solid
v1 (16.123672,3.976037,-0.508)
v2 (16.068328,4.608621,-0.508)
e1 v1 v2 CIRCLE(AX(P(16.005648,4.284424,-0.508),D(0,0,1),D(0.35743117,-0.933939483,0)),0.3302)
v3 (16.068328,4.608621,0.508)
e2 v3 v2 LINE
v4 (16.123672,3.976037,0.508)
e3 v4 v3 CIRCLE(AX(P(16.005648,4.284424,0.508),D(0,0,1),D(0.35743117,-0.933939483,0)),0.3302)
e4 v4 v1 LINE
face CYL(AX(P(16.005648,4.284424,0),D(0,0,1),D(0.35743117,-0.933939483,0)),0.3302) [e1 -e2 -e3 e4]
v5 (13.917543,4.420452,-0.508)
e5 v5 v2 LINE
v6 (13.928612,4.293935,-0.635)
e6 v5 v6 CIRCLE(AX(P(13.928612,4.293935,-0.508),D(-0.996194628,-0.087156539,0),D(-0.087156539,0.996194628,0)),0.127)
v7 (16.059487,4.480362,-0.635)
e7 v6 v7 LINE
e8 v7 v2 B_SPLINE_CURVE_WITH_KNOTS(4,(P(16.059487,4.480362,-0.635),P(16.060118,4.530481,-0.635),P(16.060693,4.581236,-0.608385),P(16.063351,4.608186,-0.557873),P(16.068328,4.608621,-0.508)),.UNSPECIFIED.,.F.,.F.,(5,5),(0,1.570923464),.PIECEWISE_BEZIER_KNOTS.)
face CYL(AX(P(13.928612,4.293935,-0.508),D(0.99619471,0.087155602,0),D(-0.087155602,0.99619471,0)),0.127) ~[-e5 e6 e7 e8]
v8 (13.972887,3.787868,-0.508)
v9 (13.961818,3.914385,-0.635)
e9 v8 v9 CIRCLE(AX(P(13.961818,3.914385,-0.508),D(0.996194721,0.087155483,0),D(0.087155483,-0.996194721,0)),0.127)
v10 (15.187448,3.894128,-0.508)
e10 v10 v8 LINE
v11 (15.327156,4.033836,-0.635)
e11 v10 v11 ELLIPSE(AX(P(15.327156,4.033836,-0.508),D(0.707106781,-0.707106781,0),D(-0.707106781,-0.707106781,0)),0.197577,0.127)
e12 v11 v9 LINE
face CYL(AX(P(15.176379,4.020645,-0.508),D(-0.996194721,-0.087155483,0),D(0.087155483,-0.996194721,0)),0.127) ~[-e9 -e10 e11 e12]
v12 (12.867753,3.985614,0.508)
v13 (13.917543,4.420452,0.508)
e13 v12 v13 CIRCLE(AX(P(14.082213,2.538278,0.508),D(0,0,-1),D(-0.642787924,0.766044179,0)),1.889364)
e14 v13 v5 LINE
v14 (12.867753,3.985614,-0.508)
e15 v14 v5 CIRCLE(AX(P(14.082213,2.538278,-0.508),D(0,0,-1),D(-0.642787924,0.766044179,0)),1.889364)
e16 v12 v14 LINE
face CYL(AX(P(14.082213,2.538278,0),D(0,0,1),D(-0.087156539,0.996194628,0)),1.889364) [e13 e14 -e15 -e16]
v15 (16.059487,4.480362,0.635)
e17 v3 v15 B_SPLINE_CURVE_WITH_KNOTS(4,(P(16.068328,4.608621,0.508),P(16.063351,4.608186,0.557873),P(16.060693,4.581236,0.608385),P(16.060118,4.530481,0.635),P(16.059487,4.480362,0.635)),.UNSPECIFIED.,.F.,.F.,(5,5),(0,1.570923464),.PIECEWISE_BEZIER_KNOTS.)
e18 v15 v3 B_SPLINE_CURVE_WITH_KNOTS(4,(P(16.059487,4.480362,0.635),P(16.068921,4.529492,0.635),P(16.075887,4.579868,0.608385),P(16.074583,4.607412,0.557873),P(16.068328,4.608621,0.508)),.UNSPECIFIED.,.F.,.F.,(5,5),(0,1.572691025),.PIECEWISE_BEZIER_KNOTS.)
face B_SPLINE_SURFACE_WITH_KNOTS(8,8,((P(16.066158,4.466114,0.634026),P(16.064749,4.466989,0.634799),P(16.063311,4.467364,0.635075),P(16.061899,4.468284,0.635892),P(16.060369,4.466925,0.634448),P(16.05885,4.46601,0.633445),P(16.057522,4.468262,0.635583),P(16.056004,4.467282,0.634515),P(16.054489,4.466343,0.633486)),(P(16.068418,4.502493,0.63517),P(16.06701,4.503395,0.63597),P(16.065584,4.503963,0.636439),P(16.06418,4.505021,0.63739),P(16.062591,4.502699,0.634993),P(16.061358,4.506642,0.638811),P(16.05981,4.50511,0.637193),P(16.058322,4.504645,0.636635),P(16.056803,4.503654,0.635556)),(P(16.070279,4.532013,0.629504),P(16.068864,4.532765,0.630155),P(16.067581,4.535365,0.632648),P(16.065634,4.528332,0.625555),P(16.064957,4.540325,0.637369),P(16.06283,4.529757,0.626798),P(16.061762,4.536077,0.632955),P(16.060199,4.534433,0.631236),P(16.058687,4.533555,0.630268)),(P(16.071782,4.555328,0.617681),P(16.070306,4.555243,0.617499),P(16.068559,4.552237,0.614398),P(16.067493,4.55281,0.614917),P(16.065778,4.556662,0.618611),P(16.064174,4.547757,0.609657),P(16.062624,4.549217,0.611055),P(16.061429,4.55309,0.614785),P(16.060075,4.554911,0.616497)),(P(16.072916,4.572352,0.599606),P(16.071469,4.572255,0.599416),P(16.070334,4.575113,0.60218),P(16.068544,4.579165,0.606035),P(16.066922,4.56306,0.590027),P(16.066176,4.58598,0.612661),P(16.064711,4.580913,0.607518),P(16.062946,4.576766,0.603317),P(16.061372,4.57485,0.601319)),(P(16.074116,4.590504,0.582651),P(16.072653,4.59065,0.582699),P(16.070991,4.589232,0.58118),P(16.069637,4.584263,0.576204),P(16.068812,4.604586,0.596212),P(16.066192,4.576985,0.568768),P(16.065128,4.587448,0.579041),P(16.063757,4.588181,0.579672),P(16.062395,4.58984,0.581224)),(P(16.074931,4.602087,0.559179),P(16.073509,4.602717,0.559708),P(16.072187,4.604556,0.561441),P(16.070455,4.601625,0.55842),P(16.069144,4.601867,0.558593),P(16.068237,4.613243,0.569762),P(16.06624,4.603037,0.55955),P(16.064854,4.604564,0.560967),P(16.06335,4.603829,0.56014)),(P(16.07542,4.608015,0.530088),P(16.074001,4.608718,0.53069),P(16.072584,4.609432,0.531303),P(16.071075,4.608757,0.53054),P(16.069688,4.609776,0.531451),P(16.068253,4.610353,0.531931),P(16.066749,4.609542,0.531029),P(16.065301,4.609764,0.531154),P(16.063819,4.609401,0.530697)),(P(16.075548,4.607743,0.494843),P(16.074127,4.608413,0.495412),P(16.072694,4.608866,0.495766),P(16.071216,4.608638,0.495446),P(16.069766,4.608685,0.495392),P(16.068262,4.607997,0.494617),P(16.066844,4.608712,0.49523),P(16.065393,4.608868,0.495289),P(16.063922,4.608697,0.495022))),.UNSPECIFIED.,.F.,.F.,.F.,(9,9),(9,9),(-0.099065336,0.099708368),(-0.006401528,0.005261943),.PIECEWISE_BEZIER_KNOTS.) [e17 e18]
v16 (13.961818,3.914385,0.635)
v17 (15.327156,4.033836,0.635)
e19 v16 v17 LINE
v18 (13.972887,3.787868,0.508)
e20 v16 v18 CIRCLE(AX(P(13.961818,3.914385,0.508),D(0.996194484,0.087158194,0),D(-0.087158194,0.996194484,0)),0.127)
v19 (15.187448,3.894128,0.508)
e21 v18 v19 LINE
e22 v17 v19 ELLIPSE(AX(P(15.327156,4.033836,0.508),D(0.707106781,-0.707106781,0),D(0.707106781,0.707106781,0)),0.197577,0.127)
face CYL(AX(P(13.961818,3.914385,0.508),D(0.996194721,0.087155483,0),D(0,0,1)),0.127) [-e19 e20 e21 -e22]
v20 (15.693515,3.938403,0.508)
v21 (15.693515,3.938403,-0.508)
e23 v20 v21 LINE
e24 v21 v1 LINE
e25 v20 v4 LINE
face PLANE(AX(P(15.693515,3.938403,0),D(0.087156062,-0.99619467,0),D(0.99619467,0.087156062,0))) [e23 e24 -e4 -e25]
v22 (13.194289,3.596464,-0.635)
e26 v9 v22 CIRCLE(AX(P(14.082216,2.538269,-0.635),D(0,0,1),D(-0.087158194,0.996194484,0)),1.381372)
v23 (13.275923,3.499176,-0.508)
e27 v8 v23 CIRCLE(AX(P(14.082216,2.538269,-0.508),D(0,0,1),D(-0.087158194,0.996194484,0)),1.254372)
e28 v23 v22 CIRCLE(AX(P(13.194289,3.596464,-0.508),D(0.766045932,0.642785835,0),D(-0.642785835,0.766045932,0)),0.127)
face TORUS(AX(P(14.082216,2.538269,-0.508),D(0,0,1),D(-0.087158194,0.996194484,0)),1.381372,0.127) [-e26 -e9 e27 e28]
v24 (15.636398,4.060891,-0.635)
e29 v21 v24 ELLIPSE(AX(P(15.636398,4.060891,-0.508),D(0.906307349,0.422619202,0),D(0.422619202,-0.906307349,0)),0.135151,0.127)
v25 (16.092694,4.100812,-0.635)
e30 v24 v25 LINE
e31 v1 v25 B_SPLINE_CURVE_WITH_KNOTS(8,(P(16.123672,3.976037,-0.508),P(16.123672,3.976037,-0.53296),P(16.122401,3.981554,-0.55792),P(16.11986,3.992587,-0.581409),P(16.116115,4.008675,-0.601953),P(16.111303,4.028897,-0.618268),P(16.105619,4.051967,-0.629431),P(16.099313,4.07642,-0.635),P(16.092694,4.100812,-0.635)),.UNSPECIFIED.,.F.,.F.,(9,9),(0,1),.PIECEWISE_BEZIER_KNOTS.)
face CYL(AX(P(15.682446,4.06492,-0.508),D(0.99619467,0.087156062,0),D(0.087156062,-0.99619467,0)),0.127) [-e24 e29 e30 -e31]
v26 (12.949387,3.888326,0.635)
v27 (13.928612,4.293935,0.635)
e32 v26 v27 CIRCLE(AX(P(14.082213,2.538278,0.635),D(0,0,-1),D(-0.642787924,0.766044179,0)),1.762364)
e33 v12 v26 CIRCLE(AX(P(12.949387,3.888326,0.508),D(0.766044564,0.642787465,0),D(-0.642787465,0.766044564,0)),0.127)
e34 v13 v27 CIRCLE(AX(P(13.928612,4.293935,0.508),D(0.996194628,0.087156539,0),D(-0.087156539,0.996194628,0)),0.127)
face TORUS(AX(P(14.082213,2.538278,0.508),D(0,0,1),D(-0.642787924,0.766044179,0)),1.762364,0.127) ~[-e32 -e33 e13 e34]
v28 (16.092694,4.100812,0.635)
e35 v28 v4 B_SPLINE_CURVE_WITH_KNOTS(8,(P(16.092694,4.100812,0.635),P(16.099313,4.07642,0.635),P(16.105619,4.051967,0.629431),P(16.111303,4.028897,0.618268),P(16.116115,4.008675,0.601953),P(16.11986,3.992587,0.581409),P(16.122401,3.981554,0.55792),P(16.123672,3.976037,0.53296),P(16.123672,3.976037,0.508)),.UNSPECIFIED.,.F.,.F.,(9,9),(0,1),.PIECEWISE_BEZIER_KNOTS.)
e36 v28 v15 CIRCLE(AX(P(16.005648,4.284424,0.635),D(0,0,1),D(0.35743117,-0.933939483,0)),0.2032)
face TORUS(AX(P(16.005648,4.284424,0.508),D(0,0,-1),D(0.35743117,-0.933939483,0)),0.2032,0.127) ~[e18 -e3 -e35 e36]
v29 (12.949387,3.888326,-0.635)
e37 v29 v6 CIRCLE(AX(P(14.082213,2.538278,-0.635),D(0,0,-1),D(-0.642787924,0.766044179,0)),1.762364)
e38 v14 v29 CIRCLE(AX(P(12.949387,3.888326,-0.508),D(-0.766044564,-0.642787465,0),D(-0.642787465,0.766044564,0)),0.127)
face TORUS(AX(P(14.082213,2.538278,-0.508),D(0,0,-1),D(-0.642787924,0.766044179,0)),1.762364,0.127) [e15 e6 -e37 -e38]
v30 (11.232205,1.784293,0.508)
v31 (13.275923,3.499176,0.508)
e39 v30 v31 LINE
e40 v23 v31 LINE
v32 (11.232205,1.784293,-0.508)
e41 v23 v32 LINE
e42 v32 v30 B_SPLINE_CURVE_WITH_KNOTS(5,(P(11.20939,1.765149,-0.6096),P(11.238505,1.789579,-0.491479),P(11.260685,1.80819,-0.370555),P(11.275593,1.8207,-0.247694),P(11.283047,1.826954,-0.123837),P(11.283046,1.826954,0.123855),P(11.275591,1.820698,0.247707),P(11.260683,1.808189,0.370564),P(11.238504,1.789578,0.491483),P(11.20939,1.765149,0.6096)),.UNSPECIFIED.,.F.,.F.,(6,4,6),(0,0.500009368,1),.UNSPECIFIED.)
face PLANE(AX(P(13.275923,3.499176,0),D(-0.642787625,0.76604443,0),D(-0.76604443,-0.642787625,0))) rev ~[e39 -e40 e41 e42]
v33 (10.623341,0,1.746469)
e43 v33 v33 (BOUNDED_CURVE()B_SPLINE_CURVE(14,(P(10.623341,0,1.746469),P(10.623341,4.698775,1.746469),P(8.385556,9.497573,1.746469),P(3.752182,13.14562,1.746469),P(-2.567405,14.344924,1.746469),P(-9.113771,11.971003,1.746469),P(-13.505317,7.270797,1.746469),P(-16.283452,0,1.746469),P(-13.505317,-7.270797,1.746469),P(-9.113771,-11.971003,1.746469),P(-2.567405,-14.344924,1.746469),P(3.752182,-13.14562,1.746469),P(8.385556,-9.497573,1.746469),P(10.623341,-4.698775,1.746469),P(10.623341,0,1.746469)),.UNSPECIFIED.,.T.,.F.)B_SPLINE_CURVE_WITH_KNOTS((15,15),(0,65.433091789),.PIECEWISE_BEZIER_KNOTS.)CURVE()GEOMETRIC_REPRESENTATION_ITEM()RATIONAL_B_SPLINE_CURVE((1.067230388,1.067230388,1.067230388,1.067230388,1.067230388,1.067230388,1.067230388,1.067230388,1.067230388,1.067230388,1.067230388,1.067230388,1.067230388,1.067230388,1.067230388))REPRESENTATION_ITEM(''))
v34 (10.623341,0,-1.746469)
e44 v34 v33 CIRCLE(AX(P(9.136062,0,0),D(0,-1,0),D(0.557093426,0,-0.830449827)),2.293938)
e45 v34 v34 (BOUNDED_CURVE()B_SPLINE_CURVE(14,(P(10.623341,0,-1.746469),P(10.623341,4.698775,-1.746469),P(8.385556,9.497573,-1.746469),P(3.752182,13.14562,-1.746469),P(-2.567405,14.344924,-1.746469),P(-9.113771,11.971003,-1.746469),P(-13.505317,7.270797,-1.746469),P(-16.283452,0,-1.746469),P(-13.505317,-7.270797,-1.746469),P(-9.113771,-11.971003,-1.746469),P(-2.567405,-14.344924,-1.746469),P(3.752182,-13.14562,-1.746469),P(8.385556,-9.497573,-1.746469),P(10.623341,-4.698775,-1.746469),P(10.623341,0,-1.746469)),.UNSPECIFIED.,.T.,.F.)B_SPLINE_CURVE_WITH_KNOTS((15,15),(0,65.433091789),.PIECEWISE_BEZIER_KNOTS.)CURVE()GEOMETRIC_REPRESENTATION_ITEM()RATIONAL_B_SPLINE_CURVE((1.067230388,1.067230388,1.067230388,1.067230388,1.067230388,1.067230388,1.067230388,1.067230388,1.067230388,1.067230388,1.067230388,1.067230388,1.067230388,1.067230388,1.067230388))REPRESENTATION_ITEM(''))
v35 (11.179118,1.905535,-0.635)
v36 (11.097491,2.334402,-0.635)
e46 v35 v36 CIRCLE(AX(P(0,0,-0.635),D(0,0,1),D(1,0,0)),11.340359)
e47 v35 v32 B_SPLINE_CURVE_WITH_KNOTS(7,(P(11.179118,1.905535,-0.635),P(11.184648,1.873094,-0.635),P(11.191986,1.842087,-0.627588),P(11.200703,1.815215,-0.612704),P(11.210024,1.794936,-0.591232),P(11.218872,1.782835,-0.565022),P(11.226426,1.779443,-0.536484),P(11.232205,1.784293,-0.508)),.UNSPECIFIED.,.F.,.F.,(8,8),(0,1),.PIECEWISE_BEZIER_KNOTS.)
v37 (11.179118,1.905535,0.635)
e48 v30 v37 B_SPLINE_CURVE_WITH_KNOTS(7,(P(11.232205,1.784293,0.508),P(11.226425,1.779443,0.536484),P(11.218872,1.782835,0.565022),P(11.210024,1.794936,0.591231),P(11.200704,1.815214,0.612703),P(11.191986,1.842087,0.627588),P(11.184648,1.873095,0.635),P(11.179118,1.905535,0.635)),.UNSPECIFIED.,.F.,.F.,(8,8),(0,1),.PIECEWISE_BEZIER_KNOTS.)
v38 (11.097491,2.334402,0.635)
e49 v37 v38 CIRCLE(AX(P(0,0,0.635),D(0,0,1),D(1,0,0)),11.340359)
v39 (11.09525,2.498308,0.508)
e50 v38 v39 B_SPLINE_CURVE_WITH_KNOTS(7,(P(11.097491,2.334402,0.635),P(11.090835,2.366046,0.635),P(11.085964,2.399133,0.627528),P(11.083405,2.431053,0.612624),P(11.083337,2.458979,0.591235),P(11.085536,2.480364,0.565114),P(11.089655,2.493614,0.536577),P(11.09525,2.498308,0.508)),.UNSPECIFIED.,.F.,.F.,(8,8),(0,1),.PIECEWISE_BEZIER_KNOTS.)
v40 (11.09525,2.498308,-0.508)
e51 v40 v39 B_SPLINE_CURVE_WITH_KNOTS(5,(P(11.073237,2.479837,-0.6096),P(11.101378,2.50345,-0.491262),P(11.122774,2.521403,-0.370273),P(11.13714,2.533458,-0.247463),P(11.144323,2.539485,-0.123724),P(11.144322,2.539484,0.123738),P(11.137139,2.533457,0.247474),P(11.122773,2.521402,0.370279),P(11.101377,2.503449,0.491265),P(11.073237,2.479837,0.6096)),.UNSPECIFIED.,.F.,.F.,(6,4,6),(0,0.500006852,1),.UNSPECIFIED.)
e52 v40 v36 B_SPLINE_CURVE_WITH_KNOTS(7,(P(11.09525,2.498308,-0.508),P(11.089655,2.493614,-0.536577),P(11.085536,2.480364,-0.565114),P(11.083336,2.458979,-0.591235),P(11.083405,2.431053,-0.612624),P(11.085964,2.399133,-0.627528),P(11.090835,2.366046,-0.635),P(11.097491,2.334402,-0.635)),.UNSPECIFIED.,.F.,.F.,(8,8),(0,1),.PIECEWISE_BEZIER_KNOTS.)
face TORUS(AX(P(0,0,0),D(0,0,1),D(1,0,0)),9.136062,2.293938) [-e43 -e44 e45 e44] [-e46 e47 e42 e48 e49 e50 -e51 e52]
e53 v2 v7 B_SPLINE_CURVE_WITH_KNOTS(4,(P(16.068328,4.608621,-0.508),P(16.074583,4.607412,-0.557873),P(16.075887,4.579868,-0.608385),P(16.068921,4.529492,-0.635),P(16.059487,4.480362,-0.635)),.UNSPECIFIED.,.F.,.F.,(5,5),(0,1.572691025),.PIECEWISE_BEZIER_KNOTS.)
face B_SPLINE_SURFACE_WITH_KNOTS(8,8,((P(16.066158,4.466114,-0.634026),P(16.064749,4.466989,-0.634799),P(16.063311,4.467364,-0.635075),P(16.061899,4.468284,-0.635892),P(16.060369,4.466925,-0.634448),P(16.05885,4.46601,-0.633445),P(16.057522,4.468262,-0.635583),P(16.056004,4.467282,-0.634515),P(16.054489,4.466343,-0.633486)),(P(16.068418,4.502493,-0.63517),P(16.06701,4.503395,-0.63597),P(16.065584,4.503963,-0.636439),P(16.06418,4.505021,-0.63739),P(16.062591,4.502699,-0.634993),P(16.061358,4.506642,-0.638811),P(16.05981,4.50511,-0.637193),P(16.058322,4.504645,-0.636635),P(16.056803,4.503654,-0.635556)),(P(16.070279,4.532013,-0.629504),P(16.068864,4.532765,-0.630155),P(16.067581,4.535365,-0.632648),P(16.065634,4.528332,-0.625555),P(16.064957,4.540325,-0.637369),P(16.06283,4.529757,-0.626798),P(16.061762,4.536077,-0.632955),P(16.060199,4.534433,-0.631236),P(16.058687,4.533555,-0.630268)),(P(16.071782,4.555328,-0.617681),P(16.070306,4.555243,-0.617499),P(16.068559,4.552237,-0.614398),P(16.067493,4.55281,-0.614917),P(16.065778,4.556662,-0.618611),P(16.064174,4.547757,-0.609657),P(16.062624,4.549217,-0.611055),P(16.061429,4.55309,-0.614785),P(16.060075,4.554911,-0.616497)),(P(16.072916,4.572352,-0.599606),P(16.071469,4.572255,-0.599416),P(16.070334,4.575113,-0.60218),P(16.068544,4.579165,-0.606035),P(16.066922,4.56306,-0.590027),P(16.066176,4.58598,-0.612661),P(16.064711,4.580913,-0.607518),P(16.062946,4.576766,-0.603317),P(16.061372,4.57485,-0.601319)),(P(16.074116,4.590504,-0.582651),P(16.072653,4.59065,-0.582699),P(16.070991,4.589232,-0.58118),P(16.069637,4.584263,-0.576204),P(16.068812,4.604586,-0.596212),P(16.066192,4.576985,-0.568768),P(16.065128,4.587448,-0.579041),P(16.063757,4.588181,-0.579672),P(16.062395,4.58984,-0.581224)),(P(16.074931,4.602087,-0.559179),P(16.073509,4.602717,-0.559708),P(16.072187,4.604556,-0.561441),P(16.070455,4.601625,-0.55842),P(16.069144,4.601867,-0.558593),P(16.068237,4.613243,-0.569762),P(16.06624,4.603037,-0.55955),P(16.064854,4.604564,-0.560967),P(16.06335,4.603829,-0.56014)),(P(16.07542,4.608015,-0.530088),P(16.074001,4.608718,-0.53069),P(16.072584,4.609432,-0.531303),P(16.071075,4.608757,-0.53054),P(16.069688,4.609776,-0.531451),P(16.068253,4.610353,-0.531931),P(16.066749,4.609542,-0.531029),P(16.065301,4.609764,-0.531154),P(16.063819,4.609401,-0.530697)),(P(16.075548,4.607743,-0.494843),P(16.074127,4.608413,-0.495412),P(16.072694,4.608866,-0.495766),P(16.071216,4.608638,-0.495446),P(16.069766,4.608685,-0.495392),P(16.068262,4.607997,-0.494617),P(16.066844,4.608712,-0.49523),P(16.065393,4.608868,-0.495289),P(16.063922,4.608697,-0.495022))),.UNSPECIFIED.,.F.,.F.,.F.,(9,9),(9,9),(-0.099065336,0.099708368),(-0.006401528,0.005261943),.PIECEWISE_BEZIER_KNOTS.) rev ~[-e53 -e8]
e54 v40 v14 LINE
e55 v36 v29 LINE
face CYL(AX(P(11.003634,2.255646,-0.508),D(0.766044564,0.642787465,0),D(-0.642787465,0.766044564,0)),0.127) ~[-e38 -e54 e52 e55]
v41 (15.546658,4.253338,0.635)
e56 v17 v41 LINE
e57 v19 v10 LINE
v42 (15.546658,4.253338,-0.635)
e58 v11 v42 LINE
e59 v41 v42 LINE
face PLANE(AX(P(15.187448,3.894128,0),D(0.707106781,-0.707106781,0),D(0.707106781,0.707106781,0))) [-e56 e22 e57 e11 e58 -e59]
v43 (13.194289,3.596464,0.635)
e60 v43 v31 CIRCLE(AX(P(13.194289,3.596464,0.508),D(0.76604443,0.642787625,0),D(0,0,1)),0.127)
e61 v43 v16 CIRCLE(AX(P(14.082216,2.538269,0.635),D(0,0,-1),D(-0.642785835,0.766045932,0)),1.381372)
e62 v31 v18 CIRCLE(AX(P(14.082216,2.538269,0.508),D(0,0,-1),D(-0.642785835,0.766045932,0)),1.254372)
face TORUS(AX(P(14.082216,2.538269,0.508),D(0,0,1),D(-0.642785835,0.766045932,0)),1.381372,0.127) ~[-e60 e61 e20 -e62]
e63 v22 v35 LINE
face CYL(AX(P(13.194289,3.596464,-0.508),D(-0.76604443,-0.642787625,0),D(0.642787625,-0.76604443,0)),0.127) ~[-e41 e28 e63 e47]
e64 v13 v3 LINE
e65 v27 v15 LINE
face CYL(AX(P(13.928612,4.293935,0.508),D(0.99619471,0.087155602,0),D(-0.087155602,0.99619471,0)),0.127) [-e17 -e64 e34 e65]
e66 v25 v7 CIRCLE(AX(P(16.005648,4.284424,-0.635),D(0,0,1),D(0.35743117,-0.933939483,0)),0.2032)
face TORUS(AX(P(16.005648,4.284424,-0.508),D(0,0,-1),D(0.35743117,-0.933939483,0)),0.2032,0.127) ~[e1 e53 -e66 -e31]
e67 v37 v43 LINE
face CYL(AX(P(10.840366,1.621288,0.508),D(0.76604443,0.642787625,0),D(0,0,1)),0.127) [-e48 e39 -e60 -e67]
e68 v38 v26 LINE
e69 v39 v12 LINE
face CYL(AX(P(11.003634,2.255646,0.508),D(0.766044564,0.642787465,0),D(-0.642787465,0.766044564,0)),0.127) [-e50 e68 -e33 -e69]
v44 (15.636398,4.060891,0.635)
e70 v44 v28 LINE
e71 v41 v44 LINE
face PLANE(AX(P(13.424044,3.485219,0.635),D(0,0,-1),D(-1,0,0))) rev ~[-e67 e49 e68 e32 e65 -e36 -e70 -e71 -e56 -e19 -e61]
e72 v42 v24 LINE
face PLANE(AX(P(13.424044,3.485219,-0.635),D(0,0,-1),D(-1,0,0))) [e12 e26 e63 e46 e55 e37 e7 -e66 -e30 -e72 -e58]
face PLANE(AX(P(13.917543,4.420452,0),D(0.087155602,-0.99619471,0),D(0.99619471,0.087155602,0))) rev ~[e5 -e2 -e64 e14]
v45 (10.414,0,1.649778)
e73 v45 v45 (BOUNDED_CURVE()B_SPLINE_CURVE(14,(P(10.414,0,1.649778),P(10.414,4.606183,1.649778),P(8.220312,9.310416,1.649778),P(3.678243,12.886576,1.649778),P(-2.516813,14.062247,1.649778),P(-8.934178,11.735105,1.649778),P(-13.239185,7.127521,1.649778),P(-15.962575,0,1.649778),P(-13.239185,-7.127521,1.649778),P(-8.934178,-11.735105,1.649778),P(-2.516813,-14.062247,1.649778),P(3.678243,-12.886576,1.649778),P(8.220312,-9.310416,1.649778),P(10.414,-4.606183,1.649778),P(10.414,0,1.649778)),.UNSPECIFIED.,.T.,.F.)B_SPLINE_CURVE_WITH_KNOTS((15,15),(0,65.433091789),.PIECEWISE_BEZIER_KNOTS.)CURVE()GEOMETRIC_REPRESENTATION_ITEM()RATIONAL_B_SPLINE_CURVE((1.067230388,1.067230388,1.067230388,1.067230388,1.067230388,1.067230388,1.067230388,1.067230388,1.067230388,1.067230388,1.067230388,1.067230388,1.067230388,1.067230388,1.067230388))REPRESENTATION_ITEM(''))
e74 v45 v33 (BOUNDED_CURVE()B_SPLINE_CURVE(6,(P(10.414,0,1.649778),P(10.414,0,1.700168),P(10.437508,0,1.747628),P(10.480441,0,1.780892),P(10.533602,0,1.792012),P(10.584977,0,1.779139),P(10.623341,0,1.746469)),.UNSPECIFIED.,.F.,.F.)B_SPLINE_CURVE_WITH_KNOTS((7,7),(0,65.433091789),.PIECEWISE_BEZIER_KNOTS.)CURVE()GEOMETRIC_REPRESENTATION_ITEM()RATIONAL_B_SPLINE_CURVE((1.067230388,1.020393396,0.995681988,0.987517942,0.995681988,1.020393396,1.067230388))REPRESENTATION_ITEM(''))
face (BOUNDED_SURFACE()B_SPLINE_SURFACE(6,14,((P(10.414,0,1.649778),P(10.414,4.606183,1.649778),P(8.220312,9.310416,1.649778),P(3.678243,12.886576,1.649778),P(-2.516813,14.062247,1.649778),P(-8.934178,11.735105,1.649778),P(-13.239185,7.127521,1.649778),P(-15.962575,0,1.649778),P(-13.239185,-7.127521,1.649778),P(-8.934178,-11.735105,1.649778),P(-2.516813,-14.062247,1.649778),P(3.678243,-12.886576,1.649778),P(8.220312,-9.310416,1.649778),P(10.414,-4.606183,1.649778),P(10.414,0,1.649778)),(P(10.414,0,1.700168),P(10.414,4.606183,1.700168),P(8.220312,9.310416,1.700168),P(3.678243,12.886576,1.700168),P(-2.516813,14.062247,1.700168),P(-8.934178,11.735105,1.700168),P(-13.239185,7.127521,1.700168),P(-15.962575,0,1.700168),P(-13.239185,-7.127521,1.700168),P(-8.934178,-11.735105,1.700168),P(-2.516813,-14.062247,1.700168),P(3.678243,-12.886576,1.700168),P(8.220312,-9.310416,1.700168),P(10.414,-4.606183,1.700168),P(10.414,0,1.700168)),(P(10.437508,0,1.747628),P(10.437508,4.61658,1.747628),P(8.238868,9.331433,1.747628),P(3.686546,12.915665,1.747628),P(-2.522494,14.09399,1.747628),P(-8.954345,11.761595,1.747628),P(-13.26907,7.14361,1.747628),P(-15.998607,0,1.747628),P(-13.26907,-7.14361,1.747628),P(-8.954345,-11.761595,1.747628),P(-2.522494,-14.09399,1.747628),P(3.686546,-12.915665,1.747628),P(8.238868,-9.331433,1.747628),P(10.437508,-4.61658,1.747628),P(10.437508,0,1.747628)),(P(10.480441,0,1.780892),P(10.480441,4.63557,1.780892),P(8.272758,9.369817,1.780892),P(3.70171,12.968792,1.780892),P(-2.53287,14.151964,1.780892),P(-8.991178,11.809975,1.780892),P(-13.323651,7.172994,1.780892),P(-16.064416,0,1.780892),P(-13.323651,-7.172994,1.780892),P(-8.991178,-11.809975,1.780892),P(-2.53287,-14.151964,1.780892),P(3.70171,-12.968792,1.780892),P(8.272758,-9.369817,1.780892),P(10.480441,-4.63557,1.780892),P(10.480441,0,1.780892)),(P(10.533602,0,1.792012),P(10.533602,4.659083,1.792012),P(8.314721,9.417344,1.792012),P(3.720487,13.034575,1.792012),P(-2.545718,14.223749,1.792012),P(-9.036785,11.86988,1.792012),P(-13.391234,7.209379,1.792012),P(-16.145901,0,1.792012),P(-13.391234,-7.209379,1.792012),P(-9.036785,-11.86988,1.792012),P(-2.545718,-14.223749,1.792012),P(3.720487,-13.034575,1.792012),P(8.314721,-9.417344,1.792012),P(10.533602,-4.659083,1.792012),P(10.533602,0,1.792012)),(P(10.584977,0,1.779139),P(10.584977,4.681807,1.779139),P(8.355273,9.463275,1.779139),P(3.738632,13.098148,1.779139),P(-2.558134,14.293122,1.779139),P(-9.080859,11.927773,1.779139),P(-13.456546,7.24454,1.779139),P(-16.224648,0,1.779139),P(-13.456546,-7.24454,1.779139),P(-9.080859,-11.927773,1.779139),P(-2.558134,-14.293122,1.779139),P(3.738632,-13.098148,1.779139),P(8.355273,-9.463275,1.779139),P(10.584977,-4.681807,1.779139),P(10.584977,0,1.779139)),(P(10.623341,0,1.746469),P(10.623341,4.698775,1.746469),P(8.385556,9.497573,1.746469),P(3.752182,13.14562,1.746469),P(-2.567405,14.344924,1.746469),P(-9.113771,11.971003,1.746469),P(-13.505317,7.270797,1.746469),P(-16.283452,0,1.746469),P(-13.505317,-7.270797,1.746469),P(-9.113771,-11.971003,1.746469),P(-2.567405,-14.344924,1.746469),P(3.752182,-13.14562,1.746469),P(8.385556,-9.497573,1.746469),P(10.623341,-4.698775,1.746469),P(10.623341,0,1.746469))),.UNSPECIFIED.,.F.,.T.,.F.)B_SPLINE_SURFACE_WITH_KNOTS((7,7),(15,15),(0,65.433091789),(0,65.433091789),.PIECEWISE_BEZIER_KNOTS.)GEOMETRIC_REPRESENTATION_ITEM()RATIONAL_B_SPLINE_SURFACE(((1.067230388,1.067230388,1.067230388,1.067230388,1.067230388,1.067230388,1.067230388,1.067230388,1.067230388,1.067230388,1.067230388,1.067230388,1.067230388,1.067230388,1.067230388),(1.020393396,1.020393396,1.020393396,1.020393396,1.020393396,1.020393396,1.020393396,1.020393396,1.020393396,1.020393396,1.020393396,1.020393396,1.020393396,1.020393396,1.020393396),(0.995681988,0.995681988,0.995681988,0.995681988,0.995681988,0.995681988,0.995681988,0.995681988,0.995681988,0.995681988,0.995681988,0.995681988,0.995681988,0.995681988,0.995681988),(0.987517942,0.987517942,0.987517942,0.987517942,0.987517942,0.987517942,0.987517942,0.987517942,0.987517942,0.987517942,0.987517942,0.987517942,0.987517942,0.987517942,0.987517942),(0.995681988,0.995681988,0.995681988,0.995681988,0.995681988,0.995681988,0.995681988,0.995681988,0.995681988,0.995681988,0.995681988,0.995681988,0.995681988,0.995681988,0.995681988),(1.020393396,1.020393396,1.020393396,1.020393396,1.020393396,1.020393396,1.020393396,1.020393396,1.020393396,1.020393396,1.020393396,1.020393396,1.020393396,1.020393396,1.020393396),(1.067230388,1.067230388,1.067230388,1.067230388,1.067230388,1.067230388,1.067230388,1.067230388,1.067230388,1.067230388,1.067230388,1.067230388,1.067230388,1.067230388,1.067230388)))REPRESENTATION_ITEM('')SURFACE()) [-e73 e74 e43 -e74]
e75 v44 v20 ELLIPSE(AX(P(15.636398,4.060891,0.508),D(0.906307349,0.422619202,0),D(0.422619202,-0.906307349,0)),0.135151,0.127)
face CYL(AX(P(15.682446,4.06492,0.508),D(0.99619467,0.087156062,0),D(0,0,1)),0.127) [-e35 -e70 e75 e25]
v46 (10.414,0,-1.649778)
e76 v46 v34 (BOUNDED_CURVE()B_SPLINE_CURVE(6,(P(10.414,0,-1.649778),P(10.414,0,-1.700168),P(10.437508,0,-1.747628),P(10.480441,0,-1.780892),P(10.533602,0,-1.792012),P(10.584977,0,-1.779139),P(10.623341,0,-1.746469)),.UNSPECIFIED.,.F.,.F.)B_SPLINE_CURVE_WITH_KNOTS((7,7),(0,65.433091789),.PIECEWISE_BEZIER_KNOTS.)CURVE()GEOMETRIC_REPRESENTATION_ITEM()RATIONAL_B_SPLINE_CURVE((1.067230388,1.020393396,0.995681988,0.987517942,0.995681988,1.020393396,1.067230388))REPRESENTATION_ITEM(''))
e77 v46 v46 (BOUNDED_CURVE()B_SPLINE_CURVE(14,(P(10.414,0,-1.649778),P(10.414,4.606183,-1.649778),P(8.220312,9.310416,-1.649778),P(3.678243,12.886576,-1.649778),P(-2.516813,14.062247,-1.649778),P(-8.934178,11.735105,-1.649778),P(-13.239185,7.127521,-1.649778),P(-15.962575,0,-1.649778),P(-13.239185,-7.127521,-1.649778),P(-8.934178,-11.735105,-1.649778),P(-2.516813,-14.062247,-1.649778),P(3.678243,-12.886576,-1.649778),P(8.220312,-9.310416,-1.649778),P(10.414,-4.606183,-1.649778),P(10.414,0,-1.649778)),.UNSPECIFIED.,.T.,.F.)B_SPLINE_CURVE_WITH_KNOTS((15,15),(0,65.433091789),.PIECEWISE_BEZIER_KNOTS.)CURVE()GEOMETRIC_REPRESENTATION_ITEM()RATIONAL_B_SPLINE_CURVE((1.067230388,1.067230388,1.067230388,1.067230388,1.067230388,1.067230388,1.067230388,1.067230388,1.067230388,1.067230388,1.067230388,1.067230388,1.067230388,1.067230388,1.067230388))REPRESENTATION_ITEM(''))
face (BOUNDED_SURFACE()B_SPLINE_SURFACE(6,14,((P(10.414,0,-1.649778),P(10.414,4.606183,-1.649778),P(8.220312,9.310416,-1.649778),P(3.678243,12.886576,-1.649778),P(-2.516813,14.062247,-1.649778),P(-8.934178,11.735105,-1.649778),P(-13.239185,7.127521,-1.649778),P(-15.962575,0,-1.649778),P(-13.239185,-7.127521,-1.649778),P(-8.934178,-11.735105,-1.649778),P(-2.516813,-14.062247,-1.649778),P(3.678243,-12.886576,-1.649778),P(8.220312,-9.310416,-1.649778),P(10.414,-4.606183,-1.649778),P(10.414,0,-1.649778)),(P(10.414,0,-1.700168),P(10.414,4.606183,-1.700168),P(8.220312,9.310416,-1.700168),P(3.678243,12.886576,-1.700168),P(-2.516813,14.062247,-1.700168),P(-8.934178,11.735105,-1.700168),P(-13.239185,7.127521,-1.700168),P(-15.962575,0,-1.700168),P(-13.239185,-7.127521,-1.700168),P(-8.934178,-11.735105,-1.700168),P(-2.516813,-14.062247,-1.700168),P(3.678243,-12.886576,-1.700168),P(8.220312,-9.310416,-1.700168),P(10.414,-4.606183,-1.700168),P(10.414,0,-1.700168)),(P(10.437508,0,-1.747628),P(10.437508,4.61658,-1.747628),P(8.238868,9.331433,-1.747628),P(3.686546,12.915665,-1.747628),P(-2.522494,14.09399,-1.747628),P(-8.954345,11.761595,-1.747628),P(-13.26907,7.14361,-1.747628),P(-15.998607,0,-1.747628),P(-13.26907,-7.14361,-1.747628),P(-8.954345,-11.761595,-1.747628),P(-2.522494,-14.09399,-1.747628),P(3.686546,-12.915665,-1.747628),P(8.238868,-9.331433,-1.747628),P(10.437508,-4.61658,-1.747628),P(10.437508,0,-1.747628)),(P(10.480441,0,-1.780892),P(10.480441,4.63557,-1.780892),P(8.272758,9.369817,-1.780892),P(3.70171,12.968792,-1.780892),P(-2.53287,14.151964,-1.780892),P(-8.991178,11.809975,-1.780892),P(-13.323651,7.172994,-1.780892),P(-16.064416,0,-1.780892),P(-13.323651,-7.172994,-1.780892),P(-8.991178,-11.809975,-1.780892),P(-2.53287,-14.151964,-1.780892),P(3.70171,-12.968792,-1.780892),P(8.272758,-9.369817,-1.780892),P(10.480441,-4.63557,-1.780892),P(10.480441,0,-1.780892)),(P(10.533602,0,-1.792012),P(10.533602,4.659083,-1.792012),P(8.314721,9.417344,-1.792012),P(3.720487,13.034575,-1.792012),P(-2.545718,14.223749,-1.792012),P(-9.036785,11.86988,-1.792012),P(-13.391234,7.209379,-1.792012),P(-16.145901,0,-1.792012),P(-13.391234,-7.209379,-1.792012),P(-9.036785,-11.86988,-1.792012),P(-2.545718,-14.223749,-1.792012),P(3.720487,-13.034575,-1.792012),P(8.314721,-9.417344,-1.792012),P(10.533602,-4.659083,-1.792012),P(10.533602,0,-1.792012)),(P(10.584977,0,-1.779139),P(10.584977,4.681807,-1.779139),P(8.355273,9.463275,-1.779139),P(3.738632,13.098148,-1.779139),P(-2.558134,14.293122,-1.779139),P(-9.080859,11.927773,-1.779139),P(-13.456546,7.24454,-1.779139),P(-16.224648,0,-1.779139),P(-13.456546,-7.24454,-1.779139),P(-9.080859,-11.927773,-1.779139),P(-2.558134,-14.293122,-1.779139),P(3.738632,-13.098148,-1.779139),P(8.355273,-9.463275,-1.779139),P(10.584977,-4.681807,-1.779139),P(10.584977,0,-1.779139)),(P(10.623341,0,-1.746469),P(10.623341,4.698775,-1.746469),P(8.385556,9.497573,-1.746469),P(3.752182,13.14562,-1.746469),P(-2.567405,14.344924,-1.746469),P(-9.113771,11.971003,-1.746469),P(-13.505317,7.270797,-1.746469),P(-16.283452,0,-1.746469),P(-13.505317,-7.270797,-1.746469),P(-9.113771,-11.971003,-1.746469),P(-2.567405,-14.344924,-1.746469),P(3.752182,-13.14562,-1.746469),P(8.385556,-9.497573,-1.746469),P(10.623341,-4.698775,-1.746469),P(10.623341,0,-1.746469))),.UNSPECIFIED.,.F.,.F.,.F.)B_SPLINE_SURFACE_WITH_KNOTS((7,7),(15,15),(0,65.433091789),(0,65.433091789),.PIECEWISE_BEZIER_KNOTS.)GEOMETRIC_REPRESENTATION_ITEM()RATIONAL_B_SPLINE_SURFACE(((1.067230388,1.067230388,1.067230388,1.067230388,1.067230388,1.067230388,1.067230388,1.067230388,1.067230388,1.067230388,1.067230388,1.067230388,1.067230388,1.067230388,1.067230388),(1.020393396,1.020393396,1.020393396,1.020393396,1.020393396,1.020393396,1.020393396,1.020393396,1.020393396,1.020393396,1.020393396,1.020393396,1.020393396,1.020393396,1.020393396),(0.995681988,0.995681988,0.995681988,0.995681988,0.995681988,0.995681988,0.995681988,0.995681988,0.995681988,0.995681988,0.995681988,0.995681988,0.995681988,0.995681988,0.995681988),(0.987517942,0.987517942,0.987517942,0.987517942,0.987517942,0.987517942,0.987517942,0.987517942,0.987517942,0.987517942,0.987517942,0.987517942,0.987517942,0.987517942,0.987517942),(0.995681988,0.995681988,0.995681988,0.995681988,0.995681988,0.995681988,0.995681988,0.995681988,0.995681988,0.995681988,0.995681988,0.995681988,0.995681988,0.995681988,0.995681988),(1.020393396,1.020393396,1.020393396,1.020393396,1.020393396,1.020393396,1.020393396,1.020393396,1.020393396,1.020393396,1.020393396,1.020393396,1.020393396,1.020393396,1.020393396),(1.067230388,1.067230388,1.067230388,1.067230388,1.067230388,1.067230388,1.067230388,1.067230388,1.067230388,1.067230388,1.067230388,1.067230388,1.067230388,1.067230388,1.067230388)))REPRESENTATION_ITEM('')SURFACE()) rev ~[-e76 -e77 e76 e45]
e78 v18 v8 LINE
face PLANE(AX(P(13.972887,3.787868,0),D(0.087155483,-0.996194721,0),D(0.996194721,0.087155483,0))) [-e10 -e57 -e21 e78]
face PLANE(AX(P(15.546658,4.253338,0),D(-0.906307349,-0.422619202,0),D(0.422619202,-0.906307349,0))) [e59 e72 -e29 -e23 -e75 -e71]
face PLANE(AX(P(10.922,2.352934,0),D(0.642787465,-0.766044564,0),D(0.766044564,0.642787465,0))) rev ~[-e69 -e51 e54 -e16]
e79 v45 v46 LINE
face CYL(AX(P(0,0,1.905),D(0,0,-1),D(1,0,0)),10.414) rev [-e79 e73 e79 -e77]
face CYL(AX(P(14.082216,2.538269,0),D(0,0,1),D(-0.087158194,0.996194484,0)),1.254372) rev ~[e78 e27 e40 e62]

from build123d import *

# Parameters (mm, degrees)
PAD_DEPTH                      = 0.635
FILLET_R                       = 0.127
REVOLVE_ONTO_SKETCH_ROLL_ANGLE = 90
FILLET002_R                    = 0.127


with BuildPart() as prong_1_fillet:
    # Sketch001 → Pad (new body, symmetric)
    with BuildSketch(Plane.XY):
        with BuildLine():
            Line((10.922, 2.352934), (12.867753, 3.985614))
            ThreePointArc((13.917543, 4.420452), (13.359184, 4.283822), (12.867753, 3.985614))
            Line((13.917543, 4.420452), (16.068328, 4.608621))
            ThreePointArc((16.123672, 3.976037), (16.334592, 4.313203), (16.068328, 4.608621))
            Line((15.693515, 3.938403), (16.123672, 3.976037))
            Line((15.546658, 4.253338), (15.693515, 3.938403))
            Line((15.187448, 3.894128), (15.546658, 4.253338))
            Line((13.972887, 3.787868), (15.187448, 3.894128))
            ThreePointArc((13.972887, 3.787868), (13.602188, 3.697158), (13.275923, 3.499176))
            Line((13.275923, 3.499176), (10.922, 1.524))
            Line((10.922, 1.524), (10.922, 2.352934))
        make_face()
    extrude(amount=PAD_DEPTH, both=True)

    # Fillet
    fillet_edges = [prong_1_fillet.edges().sort_by_distance(p)[0] for p in [
        (11.894876, 3.169274, 0.635),
        (13.359184, 4.283822, 0.635),
        (14.992935, 4.514536, 0.635),
        (16.334592, 4.313203, 0.635),
        (15.908593, 3.95722, 0.635),
        (14.580167, 3.840998, 0.635),
        (13.602188, 3.697158, 0.635),
        (12.098962, 2.511588, 0.635),
        (12.098962, 2.511588, -0.635),
        (13.602188, 3.697158, -0.635),
        (14.580167, 3.840998, -0.635),
        (16.334592, 4.313203, -0.635),
        (15.908593, 3.95722, -0.635),
        (14.992935, 4.514536, -0.635),
        (13.359184, 4.283822, -0.635),
        (11.894876, 3.169274, -0.635),
    ]]
    fillet(fillet_edges, radius=FILLET_R)


with BuildPart() as master_fusion:
    # Sketch as drawn → Revolve (revolve)
    with BuildSketch(Plane.XY):
        with BuildLine():
            Line((10.414, 1.905), (10.414, -1.905))
            ThreePointArc((10.414, -1.905), (11.43, 0), (10.414, 1.905))
        make_face()
    revolve(axis=Axis((0, 0, 0), (0, 1, 0)))


with BuildPart() as master_fusion_1:
    # Revolve onto Sketch roll: moved
    add(master_fusion.part.rotate(Axis((0, 0, 0), (1, 0, 0)), REVOLVE_ONTO_SKETCH_ROLL_ANGLE))


with BuildPart() as master_fusion_2:
    # Revolve onto Sketch placement: moved
    add(master_fusion_1.part)

    # Fillet002
    fillet002_edges = [master_fusion_2.edges().sort_by_distance(p)[0] for p in [
        (-10.414, 0, -1.905),
        (-10.414, 0, 1.905),
    ]]
    fillet(fillet002_edges, radius=FILLET002_R)

    # Fusion: union Prong 1 Fillet
    add(prong_1_fillet.part)


solid = master_fusion_2.part
